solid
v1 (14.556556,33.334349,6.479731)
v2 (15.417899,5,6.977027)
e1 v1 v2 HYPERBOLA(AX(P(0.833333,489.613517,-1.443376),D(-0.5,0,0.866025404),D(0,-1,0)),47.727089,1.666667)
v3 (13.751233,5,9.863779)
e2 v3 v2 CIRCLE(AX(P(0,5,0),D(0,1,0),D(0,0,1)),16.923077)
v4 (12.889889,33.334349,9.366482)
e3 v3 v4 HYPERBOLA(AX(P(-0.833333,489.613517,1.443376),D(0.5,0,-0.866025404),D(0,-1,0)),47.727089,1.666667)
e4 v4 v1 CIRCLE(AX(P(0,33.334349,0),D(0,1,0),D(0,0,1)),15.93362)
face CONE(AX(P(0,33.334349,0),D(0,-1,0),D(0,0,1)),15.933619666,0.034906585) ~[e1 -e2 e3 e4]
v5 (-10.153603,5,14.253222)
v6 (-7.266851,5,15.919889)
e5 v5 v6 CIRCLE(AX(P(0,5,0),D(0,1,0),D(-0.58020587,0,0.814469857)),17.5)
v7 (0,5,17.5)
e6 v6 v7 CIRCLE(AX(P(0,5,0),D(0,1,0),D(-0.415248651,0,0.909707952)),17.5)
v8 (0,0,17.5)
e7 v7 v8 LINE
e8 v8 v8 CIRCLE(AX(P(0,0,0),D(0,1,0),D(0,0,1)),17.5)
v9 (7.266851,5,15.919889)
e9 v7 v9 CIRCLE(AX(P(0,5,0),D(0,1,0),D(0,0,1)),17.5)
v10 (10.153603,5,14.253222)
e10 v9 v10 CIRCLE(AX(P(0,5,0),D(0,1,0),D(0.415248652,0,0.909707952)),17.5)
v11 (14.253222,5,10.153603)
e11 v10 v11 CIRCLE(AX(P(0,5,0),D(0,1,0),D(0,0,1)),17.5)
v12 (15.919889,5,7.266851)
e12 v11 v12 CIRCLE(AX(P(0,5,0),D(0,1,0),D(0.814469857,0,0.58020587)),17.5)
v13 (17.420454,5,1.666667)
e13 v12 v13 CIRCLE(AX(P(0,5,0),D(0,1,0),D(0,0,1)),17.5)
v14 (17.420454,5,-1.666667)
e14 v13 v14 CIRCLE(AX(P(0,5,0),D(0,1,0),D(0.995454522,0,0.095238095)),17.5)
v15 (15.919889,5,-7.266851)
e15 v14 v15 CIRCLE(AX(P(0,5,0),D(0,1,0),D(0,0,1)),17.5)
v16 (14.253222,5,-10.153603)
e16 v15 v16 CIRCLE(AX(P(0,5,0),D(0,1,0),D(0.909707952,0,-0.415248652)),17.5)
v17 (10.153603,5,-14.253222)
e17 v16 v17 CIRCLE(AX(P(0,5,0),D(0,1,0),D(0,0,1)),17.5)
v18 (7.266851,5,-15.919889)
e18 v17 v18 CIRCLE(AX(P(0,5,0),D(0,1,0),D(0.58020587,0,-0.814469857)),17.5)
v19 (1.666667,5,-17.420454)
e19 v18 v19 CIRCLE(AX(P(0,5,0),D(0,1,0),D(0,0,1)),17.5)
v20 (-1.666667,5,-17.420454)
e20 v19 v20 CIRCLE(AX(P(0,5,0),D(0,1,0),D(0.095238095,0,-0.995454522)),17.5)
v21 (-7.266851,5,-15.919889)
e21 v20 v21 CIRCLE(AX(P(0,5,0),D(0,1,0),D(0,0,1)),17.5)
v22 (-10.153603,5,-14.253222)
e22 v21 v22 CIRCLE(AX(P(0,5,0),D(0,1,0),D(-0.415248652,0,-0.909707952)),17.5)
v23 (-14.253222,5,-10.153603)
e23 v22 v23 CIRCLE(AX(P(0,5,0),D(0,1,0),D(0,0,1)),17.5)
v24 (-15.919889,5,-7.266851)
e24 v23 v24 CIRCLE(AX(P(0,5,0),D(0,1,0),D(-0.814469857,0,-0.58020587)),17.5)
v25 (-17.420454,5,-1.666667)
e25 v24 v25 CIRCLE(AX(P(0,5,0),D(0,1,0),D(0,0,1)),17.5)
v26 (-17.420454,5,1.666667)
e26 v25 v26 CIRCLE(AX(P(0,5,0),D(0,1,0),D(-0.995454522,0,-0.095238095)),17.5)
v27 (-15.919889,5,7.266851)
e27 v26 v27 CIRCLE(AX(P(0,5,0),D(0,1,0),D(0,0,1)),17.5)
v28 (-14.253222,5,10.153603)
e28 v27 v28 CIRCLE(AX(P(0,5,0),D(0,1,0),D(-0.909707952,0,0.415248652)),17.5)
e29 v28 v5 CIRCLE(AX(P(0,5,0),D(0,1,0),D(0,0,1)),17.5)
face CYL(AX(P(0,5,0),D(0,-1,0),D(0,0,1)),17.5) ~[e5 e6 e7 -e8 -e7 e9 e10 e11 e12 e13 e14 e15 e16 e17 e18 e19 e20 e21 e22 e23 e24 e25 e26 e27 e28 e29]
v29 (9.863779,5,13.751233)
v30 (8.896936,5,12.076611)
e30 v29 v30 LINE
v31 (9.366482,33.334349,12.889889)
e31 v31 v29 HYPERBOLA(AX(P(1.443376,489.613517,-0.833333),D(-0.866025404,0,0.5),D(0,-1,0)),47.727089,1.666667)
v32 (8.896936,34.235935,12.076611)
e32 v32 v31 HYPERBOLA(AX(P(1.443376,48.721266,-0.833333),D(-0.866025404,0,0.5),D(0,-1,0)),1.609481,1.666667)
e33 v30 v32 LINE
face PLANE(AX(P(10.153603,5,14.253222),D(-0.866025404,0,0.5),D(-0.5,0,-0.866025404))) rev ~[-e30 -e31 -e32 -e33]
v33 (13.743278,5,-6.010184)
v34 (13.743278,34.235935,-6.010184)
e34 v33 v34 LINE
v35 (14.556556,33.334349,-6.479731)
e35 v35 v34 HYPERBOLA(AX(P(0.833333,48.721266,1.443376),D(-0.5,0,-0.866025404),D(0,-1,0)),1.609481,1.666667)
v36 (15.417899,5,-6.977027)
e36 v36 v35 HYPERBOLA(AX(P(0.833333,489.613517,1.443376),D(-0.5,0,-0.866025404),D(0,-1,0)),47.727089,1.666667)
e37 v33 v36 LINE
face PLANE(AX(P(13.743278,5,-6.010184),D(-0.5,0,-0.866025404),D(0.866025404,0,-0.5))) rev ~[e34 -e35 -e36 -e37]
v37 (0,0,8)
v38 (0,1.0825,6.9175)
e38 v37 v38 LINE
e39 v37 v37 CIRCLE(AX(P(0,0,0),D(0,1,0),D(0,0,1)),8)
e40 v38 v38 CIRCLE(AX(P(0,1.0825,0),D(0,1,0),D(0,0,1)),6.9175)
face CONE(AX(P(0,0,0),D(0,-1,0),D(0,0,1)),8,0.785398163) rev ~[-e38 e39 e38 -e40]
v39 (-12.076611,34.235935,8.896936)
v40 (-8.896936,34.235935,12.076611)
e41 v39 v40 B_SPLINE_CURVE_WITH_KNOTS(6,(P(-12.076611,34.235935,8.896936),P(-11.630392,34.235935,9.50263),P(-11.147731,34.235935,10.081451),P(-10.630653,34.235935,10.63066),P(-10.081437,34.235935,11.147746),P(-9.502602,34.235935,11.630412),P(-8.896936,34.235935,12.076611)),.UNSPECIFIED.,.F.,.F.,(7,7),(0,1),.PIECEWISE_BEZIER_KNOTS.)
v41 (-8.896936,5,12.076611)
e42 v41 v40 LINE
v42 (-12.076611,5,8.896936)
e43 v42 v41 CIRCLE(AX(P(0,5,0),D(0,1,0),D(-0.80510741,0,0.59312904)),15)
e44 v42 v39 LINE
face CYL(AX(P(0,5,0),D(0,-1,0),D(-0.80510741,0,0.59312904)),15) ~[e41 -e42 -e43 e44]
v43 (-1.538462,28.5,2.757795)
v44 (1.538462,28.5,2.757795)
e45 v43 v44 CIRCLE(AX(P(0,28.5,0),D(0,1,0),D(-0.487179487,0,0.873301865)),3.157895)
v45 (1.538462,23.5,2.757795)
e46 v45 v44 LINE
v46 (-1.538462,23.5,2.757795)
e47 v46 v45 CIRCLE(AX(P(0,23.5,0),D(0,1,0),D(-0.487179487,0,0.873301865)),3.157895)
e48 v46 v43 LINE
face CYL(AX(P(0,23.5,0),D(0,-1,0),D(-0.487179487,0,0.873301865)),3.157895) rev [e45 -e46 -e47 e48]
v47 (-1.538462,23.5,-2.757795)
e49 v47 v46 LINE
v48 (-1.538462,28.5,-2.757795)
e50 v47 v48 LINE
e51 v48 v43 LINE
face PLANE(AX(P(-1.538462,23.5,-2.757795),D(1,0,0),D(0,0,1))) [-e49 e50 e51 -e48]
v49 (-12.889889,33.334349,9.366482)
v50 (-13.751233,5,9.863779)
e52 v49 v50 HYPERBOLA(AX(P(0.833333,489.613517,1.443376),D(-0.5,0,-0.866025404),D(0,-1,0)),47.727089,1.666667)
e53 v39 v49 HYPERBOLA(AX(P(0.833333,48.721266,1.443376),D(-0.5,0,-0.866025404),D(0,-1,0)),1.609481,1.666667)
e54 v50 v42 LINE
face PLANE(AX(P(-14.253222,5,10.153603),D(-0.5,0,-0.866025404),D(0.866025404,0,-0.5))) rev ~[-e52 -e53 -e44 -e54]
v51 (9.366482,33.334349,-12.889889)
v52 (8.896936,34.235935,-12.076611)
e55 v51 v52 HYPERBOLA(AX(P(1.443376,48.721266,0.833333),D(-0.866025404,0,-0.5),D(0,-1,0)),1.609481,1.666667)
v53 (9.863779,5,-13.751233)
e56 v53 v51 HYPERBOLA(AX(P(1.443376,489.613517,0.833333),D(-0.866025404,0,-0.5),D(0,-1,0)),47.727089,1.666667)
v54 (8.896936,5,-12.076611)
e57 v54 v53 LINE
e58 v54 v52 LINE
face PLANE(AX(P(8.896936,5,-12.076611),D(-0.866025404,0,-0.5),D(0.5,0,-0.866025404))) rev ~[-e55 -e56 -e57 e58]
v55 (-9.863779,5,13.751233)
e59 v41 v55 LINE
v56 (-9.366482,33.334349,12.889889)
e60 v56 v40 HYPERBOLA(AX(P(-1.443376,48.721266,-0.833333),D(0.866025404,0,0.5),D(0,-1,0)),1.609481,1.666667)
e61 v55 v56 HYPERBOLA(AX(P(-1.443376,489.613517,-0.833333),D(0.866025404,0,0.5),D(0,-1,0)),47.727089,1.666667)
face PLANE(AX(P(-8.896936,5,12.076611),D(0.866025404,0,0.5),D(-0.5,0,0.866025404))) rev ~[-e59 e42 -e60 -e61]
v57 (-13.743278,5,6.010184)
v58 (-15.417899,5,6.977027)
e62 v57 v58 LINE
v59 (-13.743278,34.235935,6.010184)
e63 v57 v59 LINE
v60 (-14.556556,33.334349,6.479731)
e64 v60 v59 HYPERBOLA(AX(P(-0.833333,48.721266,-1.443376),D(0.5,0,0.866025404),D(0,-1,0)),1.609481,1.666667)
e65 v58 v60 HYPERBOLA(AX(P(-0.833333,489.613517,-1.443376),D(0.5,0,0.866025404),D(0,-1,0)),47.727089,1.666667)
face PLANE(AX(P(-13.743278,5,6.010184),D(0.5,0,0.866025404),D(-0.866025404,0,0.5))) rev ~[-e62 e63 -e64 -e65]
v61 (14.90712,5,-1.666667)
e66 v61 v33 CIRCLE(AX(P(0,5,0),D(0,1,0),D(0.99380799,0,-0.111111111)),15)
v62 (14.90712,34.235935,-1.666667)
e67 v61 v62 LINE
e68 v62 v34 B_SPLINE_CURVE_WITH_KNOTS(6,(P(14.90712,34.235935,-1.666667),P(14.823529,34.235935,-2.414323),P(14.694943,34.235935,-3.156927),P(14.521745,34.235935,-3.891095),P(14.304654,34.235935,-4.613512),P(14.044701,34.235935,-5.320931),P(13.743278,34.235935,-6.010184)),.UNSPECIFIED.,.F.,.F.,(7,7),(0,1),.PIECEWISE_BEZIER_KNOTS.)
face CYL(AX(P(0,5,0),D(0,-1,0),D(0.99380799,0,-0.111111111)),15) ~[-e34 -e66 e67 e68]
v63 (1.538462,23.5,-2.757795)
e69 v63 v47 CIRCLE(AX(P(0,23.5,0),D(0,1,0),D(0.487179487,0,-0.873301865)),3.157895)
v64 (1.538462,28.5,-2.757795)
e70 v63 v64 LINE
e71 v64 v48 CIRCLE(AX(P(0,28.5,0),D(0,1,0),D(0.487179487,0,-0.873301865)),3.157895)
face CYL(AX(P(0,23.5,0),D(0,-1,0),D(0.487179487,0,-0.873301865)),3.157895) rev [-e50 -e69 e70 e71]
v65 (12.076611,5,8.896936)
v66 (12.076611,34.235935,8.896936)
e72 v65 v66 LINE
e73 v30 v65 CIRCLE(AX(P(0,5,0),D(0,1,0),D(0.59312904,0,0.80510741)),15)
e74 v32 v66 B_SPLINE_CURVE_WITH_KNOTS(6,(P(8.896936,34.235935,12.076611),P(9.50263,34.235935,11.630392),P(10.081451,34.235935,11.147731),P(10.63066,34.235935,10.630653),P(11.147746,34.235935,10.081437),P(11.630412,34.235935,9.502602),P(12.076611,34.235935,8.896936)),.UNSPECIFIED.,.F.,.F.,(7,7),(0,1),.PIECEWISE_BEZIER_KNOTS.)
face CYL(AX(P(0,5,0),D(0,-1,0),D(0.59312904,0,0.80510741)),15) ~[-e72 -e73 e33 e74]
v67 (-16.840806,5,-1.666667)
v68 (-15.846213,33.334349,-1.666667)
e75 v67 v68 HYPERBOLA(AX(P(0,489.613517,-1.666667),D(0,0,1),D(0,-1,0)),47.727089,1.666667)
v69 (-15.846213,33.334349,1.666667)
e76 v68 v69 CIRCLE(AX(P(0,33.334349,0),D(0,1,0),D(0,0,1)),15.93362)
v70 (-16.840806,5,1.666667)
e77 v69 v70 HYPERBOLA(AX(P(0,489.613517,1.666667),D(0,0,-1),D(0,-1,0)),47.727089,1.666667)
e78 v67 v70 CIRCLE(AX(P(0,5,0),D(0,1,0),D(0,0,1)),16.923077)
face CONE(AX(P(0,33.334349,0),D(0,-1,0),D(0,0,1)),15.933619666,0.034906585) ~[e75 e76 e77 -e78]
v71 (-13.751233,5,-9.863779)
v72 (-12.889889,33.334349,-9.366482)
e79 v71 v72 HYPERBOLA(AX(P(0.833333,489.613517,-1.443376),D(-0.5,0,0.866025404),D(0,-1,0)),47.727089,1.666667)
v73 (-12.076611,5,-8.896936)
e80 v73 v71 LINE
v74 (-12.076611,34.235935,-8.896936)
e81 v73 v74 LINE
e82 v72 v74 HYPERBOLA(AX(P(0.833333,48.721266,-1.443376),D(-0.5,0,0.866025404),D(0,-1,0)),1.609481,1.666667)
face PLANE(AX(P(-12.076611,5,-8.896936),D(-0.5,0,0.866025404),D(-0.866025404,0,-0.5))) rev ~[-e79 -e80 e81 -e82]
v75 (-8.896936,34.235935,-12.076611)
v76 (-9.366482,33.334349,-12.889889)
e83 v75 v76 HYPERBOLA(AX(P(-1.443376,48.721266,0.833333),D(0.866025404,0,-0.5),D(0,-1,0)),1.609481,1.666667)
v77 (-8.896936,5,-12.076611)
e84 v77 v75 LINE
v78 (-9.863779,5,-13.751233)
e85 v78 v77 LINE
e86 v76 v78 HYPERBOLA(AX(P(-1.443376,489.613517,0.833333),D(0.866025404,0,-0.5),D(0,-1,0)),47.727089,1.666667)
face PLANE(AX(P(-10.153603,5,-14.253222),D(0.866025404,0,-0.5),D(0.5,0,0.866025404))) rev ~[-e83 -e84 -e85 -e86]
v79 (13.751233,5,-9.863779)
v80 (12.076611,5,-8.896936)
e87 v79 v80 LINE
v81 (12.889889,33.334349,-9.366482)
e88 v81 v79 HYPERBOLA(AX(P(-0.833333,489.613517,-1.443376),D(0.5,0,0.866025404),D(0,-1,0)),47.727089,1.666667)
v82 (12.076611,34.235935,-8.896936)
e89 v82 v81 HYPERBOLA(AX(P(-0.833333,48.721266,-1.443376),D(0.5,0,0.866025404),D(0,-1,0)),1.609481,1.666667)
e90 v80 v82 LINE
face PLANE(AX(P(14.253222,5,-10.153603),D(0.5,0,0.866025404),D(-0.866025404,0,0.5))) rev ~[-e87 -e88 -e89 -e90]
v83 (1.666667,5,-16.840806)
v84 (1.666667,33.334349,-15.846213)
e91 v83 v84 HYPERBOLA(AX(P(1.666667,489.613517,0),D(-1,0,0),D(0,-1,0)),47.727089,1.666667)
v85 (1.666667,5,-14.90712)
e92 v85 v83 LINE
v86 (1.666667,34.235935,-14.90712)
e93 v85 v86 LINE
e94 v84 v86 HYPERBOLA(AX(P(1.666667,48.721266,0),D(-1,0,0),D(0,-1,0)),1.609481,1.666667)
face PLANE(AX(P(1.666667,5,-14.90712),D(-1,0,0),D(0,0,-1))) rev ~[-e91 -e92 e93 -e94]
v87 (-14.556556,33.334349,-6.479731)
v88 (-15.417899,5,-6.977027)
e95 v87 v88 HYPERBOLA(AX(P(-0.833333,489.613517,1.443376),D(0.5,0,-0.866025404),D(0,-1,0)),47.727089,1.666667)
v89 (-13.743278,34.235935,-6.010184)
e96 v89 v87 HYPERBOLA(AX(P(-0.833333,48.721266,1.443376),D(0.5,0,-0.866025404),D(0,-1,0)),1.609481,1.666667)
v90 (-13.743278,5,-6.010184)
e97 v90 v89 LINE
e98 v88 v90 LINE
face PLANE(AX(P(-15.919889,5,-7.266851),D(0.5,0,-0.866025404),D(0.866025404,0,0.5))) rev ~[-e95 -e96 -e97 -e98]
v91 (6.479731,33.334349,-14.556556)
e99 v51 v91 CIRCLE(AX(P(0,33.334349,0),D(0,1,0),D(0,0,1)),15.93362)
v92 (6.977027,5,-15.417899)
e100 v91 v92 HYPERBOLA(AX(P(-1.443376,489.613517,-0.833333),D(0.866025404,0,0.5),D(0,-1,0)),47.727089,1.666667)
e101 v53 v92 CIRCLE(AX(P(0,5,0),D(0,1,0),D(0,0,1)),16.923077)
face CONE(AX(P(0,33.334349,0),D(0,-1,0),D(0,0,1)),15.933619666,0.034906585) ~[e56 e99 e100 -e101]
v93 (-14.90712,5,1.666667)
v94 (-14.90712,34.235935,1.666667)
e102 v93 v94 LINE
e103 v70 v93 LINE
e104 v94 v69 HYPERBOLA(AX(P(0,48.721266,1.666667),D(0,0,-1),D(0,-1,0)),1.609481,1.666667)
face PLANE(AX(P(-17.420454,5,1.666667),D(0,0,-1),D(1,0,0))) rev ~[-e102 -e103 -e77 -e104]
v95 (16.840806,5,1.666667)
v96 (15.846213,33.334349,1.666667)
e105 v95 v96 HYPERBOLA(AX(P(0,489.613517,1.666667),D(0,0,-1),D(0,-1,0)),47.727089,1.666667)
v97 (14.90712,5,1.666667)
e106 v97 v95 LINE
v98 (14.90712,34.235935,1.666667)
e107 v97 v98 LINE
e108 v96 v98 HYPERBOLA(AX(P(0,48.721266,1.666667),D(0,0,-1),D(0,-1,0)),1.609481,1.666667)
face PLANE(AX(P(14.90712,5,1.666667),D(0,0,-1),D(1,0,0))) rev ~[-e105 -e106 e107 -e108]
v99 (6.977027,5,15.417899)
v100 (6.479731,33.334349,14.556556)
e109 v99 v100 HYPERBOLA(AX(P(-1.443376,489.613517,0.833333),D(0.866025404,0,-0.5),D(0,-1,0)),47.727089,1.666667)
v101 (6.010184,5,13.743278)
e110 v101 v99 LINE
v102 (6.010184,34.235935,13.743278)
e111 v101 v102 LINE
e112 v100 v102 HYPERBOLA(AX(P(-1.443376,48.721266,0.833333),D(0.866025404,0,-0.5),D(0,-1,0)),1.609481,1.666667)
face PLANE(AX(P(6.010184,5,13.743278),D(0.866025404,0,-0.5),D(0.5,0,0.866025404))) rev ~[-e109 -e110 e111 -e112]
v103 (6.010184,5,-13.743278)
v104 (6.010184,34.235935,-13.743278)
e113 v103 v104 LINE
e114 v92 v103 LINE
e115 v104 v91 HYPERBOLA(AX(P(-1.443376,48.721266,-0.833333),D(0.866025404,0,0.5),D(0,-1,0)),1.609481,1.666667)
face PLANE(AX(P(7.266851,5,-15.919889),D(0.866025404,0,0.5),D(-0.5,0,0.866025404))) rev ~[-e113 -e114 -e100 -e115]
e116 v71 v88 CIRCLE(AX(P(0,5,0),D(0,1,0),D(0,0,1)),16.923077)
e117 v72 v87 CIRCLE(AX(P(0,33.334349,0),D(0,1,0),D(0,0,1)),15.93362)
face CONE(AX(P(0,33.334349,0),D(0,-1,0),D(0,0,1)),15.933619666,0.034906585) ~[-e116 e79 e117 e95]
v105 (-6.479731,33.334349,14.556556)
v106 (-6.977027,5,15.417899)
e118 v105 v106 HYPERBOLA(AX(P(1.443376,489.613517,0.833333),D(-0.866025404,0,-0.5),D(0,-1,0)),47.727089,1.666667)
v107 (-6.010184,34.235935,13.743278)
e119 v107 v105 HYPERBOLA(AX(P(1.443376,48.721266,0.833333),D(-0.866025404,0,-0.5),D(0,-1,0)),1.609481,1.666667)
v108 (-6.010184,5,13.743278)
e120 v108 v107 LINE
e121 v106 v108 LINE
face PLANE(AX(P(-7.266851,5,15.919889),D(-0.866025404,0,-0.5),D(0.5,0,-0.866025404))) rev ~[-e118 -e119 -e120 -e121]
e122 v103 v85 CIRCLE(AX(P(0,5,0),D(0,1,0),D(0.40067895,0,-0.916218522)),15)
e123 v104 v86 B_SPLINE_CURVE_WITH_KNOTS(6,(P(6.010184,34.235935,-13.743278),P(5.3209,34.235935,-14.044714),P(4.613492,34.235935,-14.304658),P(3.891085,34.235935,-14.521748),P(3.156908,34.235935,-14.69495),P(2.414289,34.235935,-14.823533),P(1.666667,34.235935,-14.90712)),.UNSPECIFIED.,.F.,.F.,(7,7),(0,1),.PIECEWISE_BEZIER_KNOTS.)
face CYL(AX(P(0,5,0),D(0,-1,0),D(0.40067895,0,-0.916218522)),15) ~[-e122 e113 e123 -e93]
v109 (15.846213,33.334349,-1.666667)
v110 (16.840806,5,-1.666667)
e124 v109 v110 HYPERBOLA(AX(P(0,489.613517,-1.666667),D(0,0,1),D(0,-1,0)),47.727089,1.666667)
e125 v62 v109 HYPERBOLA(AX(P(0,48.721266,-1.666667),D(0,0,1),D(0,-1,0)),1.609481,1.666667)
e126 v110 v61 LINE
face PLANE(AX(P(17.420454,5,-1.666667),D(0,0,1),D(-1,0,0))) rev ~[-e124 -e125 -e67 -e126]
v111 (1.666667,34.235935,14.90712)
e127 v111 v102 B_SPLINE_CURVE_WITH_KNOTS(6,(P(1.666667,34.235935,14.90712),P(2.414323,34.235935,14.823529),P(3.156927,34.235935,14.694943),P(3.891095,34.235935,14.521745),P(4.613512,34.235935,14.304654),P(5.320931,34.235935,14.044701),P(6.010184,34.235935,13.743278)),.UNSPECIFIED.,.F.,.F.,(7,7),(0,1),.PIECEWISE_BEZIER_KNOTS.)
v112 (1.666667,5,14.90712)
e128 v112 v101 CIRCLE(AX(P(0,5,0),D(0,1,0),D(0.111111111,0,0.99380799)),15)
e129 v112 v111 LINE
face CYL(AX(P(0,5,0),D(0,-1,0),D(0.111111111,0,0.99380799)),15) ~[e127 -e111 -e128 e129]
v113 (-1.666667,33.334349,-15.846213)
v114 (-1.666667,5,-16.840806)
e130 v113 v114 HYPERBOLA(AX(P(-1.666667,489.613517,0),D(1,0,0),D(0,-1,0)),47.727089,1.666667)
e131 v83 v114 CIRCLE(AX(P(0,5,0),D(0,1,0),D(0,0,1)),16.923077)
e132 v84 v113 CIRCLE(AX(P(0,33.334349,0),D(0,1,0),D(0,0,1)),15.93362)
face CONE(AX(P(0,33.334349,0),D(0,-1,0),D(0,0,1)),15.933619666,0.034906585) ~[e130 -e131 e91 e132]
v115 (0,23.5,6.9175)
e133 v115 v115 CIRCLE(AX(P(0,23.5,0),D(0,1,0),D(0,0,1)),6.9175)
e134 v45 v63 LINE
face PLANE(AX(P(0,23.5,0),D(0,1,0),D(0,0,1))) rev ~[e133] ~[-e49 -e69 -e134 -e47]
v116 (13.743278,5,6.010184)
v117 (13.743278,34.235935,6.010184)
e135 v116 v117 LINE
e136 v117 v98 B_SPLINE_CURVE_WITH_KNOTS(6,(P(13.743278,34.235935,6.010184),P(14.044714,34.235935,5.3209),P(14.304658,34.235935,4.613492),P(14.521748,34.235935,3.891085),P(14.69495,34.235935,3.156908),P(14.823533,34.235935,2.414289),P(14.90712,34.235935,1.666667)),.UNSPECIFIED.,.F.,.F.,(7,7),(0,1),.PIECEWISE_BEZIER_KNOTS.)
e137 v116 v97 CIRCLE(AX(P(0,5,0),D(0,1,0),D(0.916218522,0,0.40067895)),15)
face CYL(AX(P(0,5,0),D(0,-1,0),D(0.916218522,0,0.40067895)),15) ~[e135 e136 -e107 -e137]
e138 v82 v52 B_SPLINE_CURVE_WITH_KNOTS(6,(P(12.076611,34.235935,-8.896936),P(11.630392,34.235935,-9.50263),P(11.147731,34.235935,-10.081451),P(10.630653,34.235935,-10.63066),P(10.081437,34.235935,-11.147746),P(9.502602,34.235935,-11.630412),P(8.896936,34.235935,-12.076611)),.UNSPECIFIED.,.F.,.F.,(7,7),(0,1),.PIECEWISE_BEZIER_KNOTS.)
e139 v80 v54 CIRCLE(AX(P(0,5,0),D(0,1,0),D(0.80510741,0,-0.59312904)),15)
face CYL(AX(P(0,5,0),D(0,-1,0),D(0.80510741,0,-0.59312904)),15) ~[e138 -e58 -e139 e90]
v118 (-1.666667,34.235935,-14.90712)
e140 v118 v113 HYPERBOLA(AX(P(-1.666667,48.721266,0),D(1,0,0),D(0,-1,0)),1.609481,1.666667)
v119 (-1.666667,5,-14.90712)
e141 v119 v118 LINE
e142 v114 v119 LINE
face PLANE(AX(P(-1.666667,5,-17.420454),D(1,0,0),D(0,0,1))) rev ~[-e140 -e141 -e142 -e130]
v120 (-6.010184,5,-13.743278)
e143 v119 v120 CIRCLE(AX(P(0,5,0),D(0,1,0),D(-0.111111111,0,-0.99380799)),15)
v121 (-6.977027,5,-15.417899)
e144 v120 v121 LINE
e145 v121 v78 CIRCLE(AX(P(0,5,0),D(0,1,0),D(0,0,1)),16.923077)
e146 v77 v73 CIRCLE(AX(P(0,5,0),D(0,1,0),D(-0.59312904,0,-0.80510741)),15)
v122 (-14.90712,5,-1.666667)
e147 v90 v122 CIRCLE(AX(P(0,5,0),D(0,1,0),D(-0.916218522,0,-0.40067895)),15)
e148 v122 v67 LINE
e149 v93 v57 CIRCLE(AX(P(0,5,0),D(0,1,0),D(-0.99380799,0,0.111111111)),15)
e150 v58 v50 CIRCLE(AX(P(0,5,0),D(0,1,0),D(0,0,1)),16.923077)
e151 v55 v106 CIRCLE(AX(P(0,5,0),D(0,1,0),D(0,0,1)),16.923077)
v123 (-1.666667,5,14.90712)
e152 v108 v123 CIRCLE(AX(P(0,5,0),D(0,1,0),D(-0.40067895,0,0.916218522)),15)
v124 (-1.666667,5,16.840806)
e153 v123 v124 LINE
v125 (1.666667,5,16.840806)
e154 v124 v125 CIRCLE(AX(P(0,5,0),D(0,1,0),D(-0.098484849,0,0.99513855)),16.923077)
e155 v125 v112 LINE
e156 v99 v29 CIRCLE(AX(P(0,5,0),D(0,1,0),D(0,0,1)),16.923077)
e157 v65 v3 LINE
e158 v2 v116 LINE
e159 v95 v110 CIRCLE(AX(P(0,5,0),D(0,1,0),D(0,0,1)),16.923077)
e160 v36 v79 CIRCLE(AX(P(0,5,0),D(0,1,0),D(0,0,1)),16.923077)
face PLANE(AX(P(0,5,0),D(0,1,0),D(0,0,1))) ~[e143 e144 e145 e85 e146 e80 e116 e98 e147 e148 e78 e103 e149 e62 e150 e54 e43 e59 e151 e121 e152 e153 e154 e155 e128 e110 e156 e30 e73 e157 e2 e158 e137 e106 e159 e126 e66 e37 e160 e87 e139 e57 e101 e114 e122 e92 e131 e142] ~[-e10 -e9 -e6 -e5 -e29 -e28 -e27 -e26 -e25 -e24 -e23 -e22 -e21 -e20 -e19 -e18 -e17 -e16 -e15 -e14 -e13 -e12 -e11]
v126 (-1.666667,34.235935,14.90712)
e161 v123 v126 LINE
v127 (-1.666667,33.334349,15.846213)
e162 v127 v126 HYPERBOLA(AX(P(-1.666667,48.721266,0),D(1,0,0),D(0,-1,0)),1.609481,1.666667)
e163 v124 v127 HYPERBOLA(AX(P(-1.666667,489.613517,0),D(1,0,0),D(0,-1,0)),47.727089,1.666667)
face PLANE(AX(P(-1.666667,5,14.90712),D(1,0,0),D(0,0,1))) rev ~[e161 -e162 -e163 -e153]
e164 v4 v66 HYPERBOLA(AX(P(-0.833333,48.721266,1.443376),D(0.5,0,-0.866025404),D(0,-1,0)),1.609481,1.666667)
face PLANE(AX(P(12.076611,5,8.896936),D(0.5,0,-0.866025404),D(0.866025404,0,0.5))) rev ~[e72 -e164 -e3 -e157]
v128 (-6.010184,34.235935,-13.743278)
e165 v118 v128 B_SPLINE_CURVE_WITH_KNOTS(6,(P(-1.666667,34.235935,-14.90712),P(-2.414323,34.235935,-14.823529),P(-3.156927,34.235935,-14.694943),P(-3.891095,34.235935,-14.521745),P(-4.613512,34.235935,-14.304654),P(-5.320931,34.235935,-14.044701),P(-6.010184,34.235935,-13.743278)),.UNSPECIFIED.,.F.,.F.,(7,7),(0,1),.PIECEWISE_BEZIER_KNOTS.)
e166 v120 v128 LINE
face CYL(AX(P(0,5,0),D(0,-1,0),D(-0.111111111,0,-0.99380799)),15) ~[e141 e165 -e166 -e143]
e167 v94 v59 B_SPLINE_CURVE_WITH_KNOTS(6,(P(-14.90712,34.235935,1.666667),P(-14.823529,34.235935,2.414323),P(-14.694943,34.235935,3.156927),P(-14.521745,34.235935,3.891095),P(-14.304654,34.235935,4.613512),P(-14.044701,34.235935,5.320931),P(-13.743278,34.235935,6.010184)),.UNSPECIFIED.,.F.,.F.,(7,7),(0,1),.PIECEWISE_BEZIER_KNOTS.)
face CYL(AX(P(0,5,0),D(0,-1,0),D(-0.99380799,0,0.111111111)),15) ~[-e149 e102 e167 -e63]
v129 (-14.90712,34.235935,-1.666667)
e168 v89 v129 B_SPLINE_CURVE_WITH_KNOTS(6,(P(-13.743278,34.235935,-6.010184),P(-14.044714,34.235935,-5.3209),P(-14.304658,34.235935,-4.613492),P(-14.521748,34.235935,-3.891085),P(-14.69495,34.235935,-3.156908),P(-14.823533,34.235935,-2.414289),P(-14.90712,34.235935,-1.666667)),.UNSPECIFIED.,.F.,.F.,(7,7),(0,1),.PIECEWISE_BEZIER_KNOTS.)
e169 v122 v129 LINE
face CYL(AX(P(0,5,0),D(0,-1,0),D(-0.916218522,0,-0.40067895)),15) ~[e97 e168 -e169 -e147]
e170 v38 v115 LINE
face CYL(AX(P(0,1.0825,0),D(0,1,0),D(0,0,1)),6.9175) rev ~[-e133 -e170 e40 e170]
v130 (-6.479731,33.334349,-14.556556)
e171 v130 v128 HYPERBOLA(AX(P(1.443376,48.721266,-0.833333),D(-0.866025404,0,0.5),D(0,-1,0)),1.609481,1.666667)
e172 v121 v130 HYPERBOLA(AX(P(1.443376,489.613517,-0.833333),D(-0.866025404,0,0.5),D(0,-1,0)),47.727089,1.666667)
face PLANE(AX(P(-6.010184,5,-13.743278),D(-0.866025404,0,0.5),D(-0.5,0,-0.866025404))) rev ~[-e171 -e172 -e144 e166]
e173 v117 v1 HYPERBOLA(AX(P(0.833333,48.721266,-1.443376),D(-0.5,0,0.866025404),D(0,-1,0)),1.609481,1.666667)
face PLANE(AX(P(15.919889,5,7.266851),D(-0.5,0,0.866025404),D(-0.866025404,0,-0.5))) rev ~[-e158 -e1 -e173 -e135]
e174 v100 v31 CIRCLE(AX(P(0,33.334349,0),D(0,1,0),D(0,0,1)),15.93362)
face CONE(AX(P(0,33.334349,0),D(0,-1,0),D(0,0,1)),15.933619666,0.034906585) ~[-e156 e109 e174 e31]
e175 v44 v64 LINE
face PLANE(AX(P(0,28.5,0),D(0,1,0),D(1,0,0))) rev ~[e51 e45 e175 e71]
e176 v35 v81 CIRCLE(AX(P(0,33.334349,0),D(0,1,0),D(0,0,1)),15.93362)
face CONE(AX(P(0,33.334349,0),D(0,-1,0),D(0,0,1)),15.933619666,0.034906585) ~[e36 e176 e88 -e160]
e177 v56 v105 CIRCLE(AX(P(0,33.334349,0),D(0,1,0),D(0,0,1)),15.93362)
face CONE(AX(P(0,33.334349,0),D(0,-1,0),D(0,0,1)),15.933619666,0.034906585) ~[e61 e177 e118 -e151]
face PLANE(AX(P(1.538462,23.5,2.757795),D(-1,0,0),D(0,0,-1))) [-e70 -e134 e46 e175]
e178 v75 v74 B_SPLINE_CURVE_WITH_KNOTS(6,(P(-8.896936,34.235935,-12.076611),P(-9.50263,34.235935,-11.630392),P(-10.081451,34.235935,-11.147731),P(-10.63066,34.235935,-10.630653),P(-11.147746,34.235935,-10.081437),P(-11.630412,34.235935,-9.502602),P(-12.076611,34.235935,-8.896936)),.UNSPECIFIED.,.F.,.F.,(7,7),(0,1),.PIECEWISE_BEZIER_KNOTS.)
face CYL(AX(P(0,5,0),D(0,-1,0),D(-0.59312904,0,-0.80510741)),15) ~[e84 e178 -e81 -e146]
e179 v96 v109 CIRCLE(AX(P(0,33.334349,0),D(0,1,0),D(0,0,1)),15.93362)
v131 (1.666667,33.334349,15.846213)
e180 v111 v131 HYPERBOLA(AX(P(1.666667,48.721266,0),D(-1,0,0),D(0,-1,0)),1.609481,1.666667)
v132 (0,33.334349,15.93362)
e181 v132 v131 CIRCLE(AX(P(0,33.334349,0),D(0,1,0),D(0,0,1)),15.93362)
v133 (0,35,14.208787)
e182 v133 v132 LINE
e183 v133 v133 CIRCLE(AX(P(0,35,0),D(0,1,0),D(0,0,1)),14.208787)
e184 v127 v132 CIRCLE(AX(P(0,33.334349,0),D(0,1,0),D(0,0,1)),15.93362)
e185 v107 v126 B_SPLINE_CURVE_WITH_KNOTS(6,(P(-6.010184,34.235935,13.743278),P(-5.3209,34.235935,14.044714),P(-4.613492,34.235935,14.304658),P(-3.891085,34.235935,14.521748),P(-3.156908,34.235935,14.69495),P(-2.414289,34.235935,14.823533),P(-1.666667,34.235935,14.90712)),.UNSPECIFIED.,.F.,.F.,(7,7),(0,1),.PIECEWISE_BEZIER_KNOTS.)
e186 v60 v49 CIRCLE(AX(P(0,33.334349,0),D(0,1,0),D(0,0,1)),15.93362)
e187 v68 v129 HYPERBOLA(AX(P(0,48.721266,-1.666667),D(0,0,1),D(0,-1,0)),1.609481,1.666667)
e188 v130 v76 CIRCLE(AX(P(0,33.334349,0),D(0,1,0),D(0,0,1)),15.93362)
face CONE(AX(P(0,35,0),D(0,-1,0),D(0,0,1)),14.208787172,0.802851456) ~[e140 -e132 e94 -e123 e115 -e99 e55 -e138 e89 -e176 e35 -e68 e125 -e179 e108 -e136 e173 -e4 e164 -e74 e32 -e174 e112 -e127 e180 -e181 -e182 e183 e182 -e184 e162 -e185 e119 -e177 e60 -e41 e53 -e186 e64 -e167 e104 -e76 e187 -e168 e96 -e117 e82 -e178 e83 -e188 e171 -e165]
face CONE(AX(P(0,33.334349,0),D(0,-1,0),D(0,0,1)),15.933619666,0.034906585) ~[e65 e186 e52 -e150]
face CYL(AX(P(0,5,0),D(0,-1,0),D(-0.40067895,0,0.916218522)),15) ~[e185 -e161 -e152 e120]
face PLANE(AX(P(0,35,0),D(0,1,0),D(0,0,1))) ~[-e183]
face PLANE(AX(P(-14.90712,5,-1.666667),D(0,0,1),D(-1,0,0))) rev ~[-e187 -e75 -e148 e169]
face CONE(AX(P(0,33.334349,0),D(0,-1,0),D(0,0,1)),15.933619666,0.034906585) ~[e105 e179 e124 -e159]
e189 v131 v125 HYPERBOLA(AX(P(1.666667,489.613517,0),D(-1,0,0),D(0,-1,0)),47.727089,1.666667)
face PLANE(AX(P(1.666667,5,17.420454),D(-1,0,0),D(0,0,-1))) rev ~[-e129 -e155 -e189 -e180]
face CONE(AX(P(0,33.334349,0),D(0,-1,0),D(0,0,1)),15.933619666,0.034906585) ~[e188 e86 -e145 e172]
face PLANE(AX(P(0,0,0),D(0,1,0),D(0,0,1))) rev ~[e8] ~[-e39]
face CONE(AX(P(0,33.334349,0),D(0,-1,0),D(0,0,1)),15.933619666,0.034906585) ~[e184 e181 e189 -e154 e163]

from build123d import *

# Parameters (mm, degrees)
CUT_EXTRUDE_START   = -30
SKETCH_2_R          = 23.333333333
CUT_EXTRUDE_1_DEPTH = 30
CUT_EXTRUDE_2_DEPTH = 5


with BuildPart() as part:
    # 草图1 → 旋转1 (revolve)
    with BuildSketch(Plane.XY):
        Polygon((0, 35), (14.208787172, 35), (15.933619666, 33.334348622), (16.923076923, 5), (17.5, 5), (17.5, 0), (8, 0), (6.9175, 1.0825), (6.9175, 23.5), (0, 23.5), align=None)
    revolve(axis=Axis((0, 0, 0), (0, 1, 0)))

    # 草图2 → 切除-拉伸1 (cut)
    with BuildSketch(Plane(origin=(0, 35, 0), x_dir=(1, 0, 0), z_dir=(0, 1, 0)).offset(CUT_EXTRUDE_START)):
        Circle(SKETCH_2_R)
        with BuildLine():
            Line((-17.420454134, -1.666666667), (-14.90711985, -1.666666667))
            ThreePointArc((-14.90711985, -1.666666667), (-14.488887394, -3.882285677), (-13.743277821, -6.010184252))
            Line((-13.743277821, -6.010184252), (-15.919889159, -7.266851394))
            ThreePointArc((-15.919889159, -7.266851394), (-15.155444566, -8.75), (-14.253222492, -10.15360274))
            Line((-14.253222492, -10.15360274), (-12.076611154, -8.896935598))
            ThreePointArc((-12.076611154, -8.896935598), (-10.606601718, -10.606601718), (-8.896935598, -12.076611154))
            Line((-8.896935598, -12.076611154), (-10.15360274, -14.253222492))
            ThreePointArc((-10.15360274, -14.253222492), (-8.75, -15.155444566), (-7.266851394, -15.919889159))
            Line((-7.266851394, -15.919889159), (-6.010184252, -13.743277821))
            ThreePointArc((-6.010184252, -13.743277821), (-3.882285677, -14.488887394), (-1.666666667, -14.90711985))
            Line((-1.666666667, -14.90711985), (-1.666666667, -17.420454134))
            ThreePointArc((-1.666666667, -17.420454134), (0, -17.5), (1.666666667, -17.420454134))
            Line((1.666666667, -17.420454134), (1.666666667, -14.90711985))
            ThreePointArc((1.666666667, -14.90711985), (3.882285677, -14.488887394), (6.010184252, -13.743277821))
            Line((6.010184252, -13.743277821), (7.266851394, -15.919889159))
            ThreePointArc((7.266851394, -15.919889159), (8.75, -15.155444566), (10.15360274, -14.253222492))
            Line((10.15360274, -14.253222492), (8.896935598, -12.076611154))
            ThreePointArc((8.896935598, -12.076611154), (10.606601718, -10.606601718), (12.076611154, -8.896935598))
            Line((12.076611154, -8.896935598), (14.253222492, -10.15360274))
            ThreePointArc((14.253222492, -10.15360274), (15.155444566, -8.75), (15.919889159, -7.266851394))
            Line((15.919889159, -7.266851394), (13.743277821, -6.010184252))
            ThreePointArc((13.743277821, -6.010184252), (14.488887394, -3.882285677), (14.90711985, -1.666666667))
            Line((14.90711985, -1.666666667), (17.420454134, -1.666666667))
            ThreePointArc((17.420454134, -1.666666667), (17.5, 0), (17.420454134, 1.666666667))
            Line((17.420454134, 1.666666667), (14.90711985, 1.666666667))
            ThreePointArc((14.90711985, 1.666666667), (14.488887394, 3.882285677), (13.743277821, 6.010184252))
            Line((13.743277821, 6.010184252), (15.919889159, 7.266851394))
            ThreePointArc((15.919889159, 7.266851394), (15.155444566, 8.75), (14.253222492, 10.15360274))
            Line((14.253222492, 10.15360274), (12.076611154, 8.896935598))
            ThreePointArc((12.076611154, 8.896935598), (10.606601718, 10.606601718), (8.896935598, 12.076611154))
            Line((8.896935598, 12.076611154), (10.15360274, 14.253222492))
            ThreePointArc((10.15360274, 14.253222492), (8.75, 15.155444566), (7.266851394, 15.919889159))
            Line((7.266851394, 15.919889159), (6.010184252, 13.743277821))
            ThreePointArc((6.010184252, 13.743277821), (3.882285677, 14.488887394), (1.666666667, 14.90711985))
            Line((1.666666667, 14.90711985), (1.666666667, 17.420454134))
            ThreePointArc((1.666666667, 17.420454134), (0, 17.5), (-1.666666667, 17.420454134))
            Line((-1.666666667, 17.420454134), (-1.666666667, 14.90711985))
            ThreePointArc((-1.666666667, 14.90711985), (-3.882285677, 14.488887394), (-6.010184252, 13.743277821))
            Line((-6.010184252, 13.743277821), (-7.266851394, 15.919889159))
            ThreePointArc((-7.266851394, 15.919889159), (-8.75, 15.155444566), (-10.15360274, 14.253222492))
            Line((-10.15360274, 14.253222492), (-8.896935598, 12.076611154))
            ThreePointArc((-8.896935598, 12.076611154), (-10.606601718, 10.606601718), (-12.076611154, 8.896935598))
            Line((-12.076611154, 8.896935598), (-14.253222492, 10.15360274))
            ThreePointArc((-14.253222492, 10.15360274), (-15.155444566, 8.75), (-15.919889159, 7.266851394))
            Line((-15.919889159, 7.266851394), (-13.743277821, 6.010184252))
            ThreePointArc((-13.743277821, 6.010184252), (-14.488887394, 3.882285677), (-14.90711985, 1.666666667))
            Line((-14.90711985, 1.666666667), (-17.420454134, 1.666666667))
            ThreePointArc((-17.420454134, 1.666666667), (-17.5, 0), (-17.420454134, -1.666666667))
        make_face(mode=Mode.SUBTRACT)
    extrude(amount=CUT_EXTRUDE_1_DEPTH, mode=Mode.SUBTRACT)

    # 草图3 → 切除-拉伸2 (cut)
    with BuildSketch(Plane(origin=(0, 23.5, 0), x_dir=(1, 0, 0), z_dir=(0, 1, 0))):
        with BuildLine():
            Line((1.538461538, -2.757795363), (1.538461538, 2.757795363))
            ThreePointArc((1.538461538, 2.757795363), (0, 3.157894737), (-1.538461538, 2.757795363))
            Line((-1.538461538, 2.757795363), (-1.538461538, -2.757795363))
            ThreePointArc((-1.538461538, -2.757795363), (0, -3.157894737), (1.538461538, -2.757795363))
        make_face()
    extrude(amount=CUT_EXTRUDE_2_DEPTH, mode=Mode.SUBTRACT)


solid = part.part
